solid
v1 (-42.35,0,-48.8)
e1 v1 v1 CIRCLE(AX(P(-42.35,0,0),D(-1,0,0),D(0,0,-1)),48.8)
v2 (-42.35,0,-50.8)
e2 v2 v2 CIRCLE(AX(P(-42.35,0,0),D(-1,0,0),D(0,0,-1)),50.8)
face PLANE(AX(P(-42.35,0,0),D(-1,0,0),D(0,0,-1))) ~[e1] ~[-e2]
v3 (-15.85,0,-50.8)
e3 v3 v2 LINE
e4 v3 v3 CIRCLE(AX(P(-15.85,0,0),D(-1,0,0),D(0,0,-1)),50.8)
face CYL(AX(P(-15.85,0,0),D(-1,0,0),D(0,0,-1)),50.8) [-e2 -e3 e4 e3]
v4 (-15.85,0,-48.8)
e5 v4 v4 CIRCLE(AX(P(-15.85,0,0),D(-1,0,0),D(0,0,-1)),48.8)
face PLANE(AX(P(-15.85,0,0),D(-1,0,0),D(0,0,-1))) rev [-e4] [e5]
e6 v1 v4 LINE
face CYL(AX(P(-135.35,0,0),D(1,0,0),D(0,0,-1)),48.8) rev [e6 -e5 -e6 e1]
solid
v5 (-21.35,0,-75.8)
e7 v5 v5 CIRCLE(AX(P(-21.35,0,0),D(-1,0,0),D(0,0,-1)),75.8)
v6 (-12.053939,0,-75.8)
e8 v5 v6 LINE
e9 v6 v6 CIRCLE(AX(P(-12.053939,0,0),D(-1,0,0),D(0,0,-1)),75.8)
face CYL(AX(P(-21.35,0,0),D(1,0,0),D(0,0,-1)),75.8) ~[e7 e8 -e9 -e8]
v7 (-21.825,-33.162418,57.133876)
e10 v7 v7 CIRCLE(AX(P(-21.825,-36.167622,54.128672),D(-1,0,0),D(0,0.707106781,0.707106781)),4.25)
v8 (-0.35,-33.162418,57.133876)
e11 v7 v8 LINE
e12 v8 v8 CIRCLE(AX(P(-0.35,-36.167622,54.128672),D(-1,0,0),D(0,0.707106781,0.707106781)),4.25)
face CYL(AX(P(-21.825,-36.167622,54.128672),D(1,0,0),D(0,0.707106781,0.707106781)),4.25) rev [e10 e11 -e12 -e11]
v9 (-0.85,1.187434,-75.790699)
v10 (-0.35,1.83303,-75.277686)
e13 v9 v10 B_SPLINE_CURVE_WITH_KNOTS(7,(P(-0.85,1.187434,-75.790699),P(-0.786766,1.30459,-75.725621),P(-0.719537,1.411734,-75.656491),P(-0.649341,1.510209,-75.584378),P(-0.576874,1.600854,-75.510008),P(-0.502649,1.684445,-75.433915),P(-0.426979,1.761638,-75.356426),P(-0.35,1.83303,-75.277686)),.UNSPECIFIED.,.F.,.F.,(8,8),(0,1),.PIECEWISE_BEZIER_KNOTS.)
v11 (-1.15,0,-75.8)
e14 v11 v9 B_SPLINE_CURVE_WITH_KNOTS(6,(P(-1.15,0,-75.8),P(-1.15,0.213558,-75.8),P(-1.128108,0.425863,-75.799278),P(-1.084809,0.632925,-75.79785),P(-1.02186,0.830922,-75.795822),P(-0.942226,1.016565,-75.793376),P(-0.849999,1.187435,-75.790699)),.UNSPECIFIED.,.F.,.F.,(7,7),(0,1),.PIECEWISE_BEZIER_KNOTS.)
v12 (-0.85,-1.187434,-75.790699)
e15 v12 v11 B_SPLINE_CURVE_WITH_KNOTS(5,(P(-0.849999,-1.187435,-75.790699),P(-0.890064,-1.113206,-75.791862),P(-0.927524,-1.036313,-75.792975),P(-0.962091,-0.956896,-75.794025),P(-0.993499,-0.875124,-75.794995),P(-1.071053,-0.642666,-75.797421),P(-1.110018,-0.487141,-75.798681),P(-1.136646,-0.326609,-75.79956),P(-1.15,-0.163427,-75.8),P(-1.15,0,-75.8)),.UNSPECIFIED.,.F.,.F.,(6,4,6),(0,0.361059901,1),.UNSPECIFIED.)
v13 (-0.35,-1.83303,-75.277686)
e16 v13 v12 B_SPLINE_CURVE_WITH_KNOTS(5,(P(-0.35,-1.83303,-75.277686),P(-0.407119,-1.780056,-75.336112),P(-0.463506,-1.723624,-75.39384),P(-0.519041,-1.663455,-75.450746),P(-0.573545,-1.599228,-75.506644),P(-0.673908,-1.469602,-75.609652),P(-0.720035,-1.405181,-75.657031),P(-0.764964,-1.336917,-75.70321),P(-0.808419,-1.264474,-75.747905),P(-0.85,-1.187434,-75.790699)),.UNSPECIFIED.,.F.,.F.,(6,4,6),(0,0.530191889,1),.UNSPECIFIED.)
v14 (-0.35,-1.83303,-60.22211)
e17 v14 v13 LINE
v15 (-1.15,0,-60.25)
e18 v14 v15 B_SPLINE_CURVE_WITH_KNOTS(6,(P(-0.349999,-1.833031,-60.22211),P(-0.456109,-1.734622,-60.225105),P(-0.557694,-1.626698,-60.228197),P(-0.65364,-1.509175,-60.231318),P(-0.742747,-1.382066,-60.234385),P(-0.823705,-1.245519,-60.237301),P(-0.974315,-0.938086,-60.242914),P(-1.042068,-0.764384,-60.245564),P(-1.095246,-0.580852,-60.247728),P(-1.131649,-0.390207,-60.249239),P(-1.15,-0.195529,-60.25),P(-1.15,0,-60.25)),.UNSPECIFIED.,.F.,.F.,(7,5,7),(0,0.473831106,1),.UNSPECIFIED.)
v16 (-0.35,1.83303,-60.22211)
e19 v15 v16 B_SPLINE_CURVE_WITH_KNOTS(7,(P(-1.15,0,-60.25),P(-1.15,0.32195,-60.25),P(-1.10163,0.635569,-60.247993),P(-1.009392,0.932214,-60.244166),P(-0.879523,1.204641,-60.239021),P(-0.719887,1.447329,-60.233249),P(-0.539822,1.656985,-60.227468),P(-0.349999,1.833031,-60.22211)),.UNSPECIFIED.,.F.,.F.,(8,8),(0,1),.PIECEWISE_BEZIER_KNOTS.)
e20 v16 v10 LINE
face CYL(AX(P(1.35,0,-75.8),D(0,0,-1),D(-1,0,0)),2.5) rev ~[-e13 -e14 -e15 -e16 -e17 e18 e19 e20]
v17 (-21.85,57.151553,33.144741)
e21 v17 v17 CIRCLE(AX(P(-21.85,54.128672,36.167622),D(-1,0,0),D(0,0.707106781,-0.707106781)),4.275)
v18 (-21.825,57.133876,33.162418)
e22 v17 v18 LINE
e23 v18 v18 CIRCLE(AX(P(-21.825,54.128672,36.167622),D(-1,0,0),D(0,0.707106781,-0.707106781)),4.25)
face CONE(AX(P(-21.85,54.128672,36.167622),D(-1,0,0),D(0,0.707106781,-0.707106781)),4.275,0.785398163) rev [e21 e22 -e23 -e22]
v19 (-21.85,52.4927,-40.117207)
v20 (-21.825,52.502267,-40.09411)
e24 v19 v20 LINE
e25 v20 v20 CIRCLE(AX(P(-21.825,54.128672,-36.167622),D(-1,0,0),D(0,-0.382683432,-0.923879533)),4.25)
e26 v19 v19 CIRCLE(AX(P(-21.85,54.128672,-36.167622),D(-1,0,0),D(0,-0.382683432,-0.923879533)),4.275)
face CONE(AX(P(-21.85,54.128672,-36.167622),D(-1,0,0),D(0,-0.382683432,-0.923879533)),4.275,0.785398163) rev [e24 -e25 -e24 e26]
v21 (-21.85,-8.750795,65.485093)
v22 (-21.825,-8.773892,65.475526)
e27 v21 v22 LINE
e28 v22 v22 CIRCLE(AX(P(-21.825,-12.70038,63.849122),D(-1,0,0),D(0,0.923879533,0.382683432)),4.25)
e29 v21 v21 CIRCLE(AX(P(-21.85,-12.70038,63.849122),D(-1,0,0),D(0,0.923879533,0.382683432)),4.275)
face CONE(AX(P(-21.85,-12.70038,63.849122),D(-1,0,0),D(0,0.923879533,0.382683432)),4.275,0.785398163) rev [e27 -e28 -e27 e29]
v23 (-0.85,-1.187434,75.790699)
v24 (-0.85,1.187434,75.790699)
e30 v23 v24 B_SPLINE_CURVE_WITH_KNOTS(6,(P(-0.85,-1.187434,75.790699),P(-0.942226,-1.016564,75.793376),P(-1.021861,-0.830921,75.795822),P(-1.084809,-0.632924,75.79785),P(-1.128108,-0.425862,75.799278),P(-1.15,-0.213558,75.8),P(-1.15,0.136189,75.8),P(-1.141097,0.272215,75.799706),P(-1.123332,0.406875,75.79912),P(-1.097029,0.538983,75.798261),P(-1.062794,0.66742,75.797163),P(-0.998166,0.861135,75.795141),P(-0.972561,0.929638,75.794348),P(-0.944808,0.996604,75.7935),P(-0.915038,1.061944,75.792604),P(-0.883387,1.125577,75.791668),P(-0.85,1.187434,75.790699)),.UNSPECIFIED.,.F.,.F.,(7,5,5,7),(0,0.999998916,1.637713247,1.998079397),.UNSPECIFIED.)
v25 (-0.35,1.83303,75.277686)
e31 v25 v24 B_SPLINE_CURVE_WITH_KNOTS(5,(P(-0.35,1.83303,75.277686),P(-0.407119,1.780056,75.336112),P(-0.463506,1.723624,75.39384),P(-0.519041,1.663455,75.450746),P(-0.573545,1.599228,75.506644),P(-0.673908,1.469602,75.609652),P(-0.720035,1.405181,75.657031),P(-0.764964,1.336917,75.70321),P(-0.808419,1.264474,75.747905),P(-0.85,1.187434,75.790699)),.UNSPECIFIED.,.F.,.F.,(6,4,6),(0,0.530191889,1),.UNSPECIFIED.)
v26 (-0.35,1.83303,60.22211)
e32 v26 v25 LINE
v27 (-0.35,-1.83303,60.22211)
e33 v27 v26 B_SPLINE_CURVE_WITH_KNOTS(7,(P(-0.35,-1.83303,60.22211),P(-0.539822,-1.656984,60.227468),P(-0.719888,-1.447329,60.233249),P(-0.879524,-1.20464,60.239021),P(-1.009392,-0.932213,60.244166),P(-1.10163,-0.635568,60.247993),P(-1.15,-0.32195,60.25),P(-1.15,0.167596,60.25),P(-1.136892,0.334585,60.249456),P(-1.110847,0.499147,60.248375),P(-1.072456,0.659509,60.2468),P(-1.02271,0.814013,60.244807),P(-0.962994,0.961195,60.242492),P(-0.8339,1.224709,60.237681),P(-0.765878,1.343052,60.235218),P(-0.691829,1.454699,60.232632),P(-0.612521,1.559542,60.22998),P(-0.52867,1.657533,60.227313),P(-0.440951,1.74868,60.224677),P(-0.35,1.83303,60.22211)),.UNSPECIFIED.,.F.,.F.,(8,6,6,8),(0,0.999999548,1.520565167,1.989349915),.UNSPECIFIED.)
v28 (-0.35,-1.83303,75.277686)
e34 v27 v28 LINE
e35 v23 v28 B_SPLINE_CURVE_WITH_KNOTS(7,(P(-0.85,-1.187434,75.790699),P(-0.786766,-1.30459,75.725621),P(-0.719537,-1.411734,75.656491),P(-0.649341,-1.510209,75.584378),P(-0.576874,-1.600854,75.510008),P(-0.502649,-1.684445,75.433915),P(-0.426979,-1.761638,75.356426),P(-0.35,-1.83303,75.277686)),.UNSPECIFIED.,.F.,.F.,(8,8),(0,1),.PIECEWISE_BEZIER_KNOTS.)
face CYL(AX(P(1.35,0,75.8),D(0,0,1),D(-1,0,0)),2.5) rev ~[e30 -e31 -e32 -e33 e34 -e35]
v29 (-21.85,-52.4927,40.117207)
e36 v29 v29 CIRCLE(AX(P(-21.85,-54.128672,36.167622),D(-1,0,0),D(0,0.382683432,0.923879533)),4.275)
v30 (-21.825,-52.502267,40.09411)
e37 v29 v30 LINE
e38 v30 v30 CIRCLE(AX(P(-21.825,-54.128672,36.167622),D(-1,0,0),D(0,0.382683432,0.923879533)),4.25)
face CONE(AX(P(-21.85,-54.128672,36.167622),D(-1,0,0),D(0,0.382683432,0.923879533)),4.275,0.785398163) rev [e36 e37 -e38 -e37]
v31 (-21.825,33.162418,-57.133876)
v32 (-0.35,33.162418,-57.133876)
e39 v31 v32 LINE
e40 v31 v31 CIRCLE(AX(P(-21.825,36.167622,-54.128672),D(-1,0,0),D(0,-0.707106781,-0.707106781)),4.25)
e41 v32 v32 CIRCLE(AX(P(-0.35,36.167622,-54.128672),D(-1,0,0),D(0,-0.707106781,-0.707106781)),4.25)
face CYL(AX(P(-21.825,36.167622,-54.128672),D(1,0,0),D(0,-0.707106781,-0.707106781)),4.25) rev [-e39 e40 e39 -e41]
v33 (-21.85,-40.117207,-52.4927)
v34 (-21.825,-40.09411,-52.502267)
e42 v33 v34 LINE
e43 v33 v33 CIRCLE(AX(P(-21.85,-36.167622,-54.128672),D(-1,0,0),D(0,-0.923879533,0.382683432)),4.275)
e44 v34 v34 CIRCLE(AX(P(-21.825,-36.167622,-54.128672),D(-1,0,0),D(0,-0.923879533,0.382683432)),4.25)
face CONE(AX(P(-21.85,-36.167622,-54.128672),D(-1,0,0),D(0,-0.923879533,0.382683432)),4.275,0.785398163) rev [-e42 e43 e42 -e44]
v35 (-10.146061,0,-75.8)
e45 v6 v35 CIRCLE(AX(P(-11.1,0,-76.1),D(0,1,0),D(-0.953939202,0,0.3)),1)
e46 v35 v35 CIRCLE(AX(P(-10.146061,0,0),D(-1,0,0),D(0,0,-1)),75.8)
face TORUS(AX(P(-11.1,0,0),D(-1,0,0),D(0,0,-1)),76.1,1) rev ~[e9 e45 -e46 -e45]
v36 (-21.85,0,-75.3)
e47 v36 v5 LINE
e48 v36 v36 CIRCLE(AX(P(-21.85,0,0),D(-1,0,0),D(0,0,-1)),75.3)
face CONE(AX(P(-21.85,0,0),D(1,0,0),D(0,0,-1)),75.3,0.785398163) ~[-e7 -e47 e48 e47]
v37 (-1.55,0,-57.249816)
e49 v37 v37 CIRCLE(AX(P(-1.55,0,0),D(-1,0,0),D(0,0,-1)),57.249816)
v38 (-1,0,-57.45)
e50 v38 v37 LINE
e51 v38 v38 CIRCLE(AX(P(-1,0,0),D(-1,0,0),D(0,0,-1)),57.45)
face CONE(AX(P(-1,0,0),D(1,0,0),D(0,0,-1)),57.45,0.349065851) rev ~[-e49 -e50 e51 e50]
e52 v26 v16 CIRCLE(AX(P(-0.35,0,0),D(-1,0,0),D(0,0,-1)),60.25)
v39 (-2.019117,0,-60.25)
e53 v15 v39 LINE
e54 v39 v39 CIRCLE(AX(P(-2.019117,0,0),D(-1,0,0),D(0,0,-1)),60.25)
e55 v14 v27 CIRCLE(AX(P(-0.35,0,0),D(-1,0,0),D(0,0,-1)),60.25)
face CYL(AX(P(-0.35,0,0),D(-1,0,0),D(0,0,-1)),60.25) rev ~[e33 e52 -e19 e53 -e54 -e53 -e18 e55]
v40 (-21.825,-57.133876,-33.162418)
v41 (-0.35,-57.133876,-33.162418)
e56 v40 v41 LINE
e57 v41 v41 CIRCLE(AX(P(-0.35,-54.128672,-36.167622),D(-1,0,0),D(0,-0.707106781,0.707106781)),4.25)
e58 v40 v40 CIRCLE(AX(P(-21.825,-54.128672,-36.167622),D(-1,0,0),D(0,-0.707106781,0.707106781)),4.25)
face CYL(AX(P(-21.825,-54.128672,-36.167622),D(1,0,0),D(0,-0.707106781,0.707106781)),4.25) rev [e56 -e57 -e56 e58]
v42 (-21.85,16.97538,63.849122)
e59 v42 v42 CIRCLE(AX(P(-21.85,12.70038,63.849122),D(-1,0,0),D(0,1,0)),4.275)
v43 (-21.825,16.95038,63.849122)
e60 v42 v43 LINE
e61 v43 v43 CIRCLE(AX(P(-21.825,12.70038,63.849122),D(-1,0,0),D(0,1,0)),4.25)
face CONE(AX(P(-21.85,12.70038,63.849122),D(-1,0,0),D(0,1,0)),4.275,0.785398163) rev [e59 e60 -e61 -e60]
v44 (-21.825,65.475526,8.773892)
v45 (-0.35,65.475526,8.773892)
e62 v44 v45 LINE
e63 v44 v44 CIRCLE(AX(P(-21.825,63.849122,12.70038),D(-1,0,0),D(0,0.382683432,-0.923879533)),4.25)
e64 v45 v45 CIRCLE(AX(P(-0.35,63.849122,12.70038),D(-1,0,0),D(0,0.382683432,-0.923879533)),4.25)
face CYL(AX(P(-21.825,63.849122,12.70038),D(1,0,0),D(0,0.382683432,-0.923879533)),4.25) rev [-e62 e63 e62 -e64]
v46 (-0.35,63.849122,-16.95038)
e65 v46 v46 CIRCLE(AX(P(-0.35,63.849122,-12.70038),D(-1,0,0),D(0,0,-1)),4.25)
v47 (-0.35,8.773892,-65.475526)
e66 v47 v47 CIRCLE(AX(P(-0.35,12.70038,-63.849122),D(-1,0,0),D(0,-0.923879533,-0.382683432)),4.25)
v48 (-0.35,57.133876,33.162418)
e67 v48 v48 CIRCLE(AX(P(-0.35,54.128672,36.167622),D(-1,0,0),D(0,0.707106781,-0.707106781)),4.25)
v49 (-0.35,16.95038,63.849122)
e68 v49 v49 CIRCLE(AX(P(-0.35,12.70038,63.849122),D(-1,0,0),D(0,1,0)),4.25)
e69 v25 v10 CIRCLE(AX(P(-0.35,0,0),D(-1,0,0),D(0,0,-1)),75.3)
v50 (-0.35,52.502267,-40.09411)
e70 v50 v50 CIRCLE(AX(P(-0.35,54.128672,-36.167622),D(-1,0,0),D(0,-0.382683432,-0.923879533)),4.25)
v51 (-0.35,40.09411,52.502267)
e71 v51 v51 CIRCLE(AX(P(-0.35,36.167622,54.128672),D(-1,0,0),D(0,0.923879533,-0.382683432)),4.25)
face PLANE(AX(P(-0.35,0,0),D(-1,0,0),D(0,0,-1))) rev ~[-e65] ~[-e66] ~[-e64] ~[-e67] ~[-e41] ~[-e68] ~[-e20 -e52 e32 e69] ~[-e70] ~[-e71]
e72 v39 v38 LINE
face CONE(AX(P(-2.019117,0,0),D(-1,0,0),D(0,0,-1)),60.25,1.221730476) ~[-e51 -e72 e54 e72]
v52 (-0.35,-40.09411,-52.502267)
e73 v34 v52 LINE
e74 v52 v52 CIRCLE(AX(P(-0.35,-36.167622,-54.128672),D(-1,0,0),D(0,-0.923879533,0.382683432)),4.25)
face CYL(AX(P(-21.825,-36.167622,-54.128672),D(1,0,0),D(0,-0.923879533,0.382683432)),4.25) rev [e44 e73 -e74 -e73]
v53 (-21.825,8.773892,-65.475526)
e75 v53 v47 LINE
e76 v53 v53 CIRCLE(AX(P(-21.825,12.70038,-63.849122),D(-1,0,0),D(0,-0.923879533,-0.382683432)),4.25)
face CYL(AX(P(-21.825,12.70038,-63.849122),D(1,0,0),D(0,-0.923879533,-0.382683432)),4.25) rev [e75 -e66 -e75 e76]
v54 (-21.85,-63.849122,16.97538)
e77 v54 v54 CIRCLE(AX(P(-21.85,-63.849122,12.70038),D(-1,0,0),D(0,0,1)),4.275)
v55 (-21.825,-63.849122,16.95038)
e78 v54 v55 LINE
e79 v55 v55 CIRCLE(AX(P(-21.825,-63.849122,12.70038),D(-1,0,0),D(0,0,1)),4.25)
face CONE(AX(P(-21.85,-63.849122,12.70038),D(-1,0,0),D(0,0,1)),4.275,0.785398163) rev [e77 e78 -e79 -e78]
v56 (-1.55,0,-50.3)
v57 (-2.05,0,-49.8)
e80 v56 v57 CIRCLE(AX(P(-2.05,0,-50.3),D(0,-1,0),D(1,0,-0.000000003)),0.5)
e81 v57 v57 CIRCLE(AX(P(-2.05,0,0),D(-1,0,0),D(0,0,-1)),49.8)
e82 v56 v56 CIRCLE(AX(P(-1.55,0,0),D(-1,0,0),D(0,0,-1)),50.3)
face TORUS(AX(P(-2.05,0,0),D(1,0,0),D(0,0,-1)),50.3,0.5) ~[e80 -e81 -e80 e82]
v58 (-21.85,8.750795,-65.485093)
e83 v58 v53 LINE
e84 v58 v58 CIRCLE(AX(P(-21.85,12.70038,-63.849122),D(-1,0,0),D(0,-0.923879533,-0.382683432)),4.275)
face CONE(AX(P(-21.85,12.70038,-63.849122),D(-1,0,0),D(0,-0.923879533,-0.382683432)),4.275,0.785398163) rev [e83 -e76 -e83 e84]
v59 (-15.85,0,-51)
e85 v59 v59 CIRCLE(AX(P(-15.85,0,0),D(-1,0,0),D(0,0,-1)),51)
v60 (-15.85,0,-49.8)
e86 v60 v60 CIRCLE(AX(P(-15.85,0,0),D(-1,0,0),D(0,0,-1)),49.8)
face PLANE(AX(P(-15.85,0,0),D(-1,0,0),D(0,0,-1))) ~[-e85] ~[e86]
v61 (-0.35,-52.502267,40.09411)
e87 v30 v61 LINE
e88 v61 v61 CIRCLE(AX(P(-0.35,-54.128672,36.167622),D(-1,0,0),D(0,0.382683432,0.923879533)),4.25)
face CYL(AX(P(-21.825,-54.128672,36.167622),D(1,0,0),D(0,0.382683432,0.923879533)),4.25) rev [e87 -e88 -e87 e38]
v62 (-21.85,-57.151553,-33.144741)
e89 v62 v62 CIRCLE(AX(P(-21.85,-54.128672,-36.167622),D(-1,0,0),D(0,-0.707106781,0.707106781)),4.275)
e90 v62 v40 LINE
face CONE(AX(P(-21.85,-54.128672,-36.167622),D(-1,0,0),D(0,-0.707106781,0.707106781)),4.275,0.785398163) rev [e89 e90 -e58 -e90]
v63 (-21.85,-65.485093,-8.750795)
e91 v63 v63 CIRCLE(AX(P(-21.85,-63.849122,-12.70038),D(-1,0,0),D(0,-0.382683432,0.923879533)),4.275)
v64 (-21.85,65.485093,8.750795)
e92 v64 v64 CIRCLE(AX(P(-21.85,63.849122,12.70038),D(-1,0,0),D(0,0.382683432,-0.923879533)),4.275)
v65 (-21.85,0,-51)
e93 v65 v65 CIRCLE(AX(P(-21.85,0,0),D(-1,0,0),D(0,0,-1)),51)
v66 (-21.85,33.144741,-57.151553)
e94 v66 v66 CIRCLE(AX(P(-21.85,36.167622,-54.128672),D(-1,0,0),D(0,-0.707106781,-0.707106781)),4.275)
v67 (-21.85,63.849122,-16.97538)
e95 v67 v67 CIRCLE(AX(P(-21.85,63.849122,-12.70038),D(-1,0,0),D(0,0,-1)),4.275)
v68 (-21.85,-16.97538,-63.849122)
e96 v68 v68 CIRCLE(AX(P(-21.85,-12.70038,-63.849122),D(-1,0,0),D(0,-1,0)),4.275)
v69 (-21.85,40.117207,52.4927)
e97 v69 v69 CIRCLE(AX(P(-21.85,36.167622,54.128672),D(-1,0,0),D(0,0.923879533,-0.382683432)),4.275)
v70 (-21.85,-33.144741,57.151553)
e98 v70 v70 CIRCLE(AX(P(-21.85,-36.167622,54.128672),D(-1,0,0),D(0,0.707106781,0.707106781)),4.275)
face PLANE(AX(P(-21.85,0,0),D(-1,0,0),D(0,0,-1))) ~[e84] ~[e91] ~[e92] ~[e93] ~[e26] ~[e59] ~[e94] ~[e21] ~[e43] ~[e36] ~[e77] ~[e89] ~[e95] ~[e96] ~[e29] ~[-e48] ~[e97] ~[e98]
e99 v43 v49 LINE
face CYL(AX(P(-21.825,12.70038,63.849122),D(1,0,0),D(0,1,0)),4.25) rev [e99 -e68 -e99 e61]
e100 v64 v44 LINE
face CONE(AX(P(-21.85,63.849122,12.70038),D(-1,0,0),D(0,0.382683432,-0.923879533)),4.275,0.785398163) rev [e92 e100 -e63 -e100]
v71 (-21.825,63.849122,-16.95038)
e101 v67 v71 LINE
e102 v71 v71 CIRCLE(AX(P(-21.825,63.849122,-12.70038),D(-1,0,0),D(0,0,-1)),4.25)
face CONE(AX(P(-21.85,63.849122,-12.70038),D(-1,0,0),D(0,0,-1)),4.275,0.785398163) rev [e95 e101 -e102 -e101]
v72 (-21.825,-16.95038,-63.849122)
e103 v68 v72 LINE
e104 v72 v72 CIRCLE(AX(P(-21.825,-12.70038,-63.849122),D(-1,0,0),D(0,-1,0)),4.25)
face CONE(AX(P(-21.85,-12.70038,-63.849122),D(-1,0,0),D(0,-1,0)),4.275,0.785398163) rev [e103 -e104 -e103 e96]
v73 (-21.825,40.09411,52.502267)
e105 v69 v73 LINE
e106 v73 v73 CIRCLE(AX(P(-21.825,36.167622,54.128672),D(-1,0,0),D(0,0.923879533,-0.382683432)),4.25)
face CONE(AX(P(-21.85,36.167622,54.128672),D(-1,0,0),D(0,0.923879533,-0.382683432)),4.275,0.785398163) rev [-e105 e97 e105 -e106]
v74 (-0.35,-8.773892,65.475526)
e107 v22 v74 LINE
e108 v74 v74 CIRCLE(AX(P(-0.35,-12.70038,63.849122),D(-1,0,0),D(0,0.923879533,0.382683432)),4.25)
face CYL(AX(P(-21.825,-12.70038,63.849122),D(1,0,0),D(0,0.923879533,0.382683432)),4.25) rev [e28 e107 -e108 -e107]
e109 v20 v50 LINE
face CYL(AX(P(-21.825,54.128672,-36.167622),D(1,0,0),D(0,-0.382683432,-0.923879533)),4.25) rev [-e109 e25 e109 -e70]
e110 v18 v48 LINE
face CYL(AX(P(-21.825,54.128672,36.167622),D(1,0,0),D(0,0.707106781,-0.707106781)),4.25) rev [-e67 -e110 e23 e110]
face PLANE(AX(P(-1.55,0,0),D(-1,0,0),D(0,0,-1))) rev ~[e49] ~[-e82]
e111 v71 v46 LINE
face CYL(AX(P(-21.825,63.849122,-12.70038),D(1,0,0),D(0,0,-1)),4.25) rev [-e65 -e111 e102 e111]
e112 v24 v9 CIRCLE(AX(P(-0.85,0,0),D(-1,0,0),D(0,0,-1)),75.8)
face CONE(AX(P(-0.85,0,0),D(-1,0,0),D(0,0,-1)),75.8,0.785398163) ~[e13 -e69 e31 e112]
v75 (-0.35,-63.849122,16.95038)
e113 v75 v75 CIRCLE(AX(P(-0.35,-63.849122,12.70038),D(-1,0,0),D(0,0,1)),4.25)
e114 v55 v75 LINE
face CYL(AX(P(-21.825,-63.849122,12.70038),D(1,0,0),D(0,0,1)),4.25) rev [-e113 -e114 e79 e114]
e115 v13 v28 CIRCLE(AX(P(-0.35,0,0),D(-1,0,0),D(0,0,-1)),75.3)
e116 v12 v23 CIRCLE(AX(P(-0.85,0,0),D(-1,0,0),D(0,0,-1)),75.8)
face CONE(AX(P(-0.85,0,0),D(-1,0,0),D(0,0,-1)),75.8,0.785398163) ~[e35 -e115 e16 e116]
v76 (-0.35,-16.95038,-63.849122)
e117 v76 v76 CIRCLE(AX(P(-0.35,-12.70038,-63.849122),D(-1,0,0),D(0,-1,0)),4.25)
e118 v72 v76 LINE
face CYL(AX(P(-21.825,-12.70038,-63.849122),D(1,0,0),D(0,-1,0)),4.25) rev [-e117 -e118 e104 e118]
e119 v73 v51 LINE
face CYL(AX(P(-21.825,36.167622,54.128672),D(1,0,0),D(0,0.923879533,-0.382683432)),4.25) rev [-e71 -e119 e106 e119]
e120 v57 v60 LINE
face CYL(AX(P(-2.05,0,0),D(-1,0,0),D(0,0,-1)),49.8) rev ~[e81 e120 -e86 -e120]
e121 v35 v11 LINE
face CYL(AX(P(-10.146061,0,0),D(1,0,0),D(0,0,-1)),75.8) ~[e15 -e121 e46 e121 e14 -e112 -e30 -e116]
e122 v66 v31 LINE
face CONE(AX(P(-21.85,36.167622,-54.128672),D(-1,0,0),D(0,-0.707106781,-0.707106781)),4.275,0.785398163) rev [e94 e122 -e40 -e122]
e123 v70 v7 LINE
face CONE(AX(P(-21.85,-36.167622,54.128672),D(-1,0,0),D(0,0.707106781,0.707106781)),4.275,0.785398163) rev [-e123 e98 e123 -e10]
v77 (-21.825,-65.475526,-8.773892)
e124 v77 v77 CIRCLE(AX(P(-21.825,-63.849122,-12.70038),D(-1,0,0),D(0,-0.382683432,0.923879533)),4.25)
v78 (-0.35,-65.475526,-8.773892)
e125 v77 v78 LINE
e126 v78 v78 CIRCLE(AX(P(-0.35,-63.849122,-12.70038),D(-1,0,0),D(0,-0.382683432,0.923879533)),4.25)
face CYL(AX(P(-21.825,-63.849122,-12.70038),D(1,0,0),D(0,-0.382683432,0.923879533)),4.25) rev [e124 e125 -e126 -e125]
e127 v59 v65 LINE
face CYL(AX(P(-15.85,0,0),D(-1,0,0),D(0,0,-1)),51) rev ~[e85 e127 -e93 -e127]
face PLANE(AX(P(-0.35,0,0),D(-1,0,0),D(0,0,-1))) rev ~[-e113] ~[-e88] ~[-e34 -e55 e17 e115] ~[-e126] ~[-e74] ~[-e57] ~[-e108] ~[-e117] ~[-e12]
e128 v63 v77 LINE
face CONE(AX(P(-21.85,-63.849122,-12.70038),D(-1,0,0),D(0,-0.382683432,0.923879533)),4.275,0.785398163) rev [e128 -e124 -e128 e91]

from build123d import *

# Parameters (mm, degrees)
PATTERN_CIRCULAR_1_COUNT = 16
SKETCH_6_R               = 2.5
CUT_EXTRUDE_1_DEPTH      = 17
PATTERN_CIRCULAR_2_COUNT = 2
SKETCH_8_W               = 93
SKETCH_8_H               = 2


with BuildPart() as part:
    # Эскиз1 → Повернуть2 (revolve)
    with BuildSketch(Plane.XY):
        with BuildLine():
            Line((-12.053939201, 75.8), (-21.35, 75.8))
            Line((-21.35, 75.8), (-21.85, 75.3))
            Line((-21.85, 75.3), (-21.85, 51))
            Line((-21.85, 51), (-15.85, 51))
            Line((-15.85, 51), (-15.85, 50.8))
            Line((-15.85, 50.8), (-15.85, 49.8))
            Line((-15.85, 49.8), (-2.05, 49.8))
            ThreePointArc((-2.05, 49.8), (-1.696446609, 49.946446609), (-1.55, 50.3))
            Line((-1.55, 50.3), (-1.55, 57.249816371))
            Line((-1.55, 57.249816371), (-1, 57.45))
            Line((-1, 57.45), (-2.019116656, 60.25))
            Line((-2.019116656, 60.25), (-0.35, 60.25))
            Line((-0.35, 60.25), (-0.35, 75.3))
            Line((-0.35, 75.3), (-0.85, 75.8))
            Line((-0.85, 75.8), (-10.146060799, 75.8))
            ThreePointArc((-10.146060799, 75.8), (-11.1, 75.1), (-12.053939201, 75.8))
        make_face()
    revolve(axis=Axis((0, 0, 0), (-1, 0, 0)))

    # Эскиз2 → Отверстие с зазором M81 (revolve, cut)
    with BuildSketch(Plane(origin=(-0.35, 63.849121754, -12.700379963), x_dir=(0, 0, -1), z_dir=(0, 1, 0))):
        Polygon((0, 0), (0, 21.5), (4.275, 21.5), (4.25, 21.475), (4.25, 0), align=None)
    hole_wizard_m81 = revolve(axis=Axis((6, 63.849121754, -12.700379963), (-1, 0, 0)), mode=Mode.SUBTRACT)

    # Круговой массив1: Отверстие с зазором M81 ×16 about axis
    pattern_circular_1_axis = Axis((-110.150658921, 0, 0), (1, 0, 0))
    for i in range(1, PATTERN_CIRCULAR_1_COUNT):
        add(hole_wizard_m81.rotate(pattern_circular_1_axis, i * 360 / PATTERN_CIRCULAR_1_COUNT), mode=Mode.SUBTRACT)

    # Эскиз6 → Вырез-Вытянуть1 (cut)
    with BuildSketch(Plane(origin=(0, 0, -75.8), x_dir=(-1, 0, 0), z_dir=(0, 0, -1))):
        with Locations((-1.35, 0)):
            Circle(SKETCH_6_R)
    cut_extrude_1 = extrude(amount=-CUT_EXTRUDE_1_DEPTH, mode=Mode.SUBTRACT)

    # Круговой массив2: Вырез-Вытянуть1 ×2 about axis
    pattern_circular_2_axis = Axis((-110.150658921, 0, 0), (1, 0, 0))
    for i in range(1, PATTERN_CIRCULAR_2_COUNT):
        add(cut_extrude_1.rotate(pattern_circular_2_axis, i * 360 / PATTERN_CIRCULAR_2_COUNT), mode=Mode.SUBTRACT)


with BuildPart() as body_2:
    # Эскиз1<5> → Повернуть3 (revolve)
    with BuildSketch(Plane.XY):
        Polygon((-15.85, 49.8), (-15.85, 50.8), (-135.35, 50.8), (-135.35, 48.8), (-15.85, 48.8), align=None)
    revolve(axis=Axis((0, 0, 0), (-1, 0, 0)))

    # Эскиз8 → Вырез-Повернуть1 (revolve, cut)
    with BuildSketch(Plane.XY):
        with Locations((-88.85, 49.8)):
            Rectangle(SKETCH_8_W, SKETCH_8_H)
    revolve(axis=Axis((0, 0, 0), (-1, 0, 0)), mode=Mode.SUBTRACT)


solid = Compound([part.part, body_2.part])
